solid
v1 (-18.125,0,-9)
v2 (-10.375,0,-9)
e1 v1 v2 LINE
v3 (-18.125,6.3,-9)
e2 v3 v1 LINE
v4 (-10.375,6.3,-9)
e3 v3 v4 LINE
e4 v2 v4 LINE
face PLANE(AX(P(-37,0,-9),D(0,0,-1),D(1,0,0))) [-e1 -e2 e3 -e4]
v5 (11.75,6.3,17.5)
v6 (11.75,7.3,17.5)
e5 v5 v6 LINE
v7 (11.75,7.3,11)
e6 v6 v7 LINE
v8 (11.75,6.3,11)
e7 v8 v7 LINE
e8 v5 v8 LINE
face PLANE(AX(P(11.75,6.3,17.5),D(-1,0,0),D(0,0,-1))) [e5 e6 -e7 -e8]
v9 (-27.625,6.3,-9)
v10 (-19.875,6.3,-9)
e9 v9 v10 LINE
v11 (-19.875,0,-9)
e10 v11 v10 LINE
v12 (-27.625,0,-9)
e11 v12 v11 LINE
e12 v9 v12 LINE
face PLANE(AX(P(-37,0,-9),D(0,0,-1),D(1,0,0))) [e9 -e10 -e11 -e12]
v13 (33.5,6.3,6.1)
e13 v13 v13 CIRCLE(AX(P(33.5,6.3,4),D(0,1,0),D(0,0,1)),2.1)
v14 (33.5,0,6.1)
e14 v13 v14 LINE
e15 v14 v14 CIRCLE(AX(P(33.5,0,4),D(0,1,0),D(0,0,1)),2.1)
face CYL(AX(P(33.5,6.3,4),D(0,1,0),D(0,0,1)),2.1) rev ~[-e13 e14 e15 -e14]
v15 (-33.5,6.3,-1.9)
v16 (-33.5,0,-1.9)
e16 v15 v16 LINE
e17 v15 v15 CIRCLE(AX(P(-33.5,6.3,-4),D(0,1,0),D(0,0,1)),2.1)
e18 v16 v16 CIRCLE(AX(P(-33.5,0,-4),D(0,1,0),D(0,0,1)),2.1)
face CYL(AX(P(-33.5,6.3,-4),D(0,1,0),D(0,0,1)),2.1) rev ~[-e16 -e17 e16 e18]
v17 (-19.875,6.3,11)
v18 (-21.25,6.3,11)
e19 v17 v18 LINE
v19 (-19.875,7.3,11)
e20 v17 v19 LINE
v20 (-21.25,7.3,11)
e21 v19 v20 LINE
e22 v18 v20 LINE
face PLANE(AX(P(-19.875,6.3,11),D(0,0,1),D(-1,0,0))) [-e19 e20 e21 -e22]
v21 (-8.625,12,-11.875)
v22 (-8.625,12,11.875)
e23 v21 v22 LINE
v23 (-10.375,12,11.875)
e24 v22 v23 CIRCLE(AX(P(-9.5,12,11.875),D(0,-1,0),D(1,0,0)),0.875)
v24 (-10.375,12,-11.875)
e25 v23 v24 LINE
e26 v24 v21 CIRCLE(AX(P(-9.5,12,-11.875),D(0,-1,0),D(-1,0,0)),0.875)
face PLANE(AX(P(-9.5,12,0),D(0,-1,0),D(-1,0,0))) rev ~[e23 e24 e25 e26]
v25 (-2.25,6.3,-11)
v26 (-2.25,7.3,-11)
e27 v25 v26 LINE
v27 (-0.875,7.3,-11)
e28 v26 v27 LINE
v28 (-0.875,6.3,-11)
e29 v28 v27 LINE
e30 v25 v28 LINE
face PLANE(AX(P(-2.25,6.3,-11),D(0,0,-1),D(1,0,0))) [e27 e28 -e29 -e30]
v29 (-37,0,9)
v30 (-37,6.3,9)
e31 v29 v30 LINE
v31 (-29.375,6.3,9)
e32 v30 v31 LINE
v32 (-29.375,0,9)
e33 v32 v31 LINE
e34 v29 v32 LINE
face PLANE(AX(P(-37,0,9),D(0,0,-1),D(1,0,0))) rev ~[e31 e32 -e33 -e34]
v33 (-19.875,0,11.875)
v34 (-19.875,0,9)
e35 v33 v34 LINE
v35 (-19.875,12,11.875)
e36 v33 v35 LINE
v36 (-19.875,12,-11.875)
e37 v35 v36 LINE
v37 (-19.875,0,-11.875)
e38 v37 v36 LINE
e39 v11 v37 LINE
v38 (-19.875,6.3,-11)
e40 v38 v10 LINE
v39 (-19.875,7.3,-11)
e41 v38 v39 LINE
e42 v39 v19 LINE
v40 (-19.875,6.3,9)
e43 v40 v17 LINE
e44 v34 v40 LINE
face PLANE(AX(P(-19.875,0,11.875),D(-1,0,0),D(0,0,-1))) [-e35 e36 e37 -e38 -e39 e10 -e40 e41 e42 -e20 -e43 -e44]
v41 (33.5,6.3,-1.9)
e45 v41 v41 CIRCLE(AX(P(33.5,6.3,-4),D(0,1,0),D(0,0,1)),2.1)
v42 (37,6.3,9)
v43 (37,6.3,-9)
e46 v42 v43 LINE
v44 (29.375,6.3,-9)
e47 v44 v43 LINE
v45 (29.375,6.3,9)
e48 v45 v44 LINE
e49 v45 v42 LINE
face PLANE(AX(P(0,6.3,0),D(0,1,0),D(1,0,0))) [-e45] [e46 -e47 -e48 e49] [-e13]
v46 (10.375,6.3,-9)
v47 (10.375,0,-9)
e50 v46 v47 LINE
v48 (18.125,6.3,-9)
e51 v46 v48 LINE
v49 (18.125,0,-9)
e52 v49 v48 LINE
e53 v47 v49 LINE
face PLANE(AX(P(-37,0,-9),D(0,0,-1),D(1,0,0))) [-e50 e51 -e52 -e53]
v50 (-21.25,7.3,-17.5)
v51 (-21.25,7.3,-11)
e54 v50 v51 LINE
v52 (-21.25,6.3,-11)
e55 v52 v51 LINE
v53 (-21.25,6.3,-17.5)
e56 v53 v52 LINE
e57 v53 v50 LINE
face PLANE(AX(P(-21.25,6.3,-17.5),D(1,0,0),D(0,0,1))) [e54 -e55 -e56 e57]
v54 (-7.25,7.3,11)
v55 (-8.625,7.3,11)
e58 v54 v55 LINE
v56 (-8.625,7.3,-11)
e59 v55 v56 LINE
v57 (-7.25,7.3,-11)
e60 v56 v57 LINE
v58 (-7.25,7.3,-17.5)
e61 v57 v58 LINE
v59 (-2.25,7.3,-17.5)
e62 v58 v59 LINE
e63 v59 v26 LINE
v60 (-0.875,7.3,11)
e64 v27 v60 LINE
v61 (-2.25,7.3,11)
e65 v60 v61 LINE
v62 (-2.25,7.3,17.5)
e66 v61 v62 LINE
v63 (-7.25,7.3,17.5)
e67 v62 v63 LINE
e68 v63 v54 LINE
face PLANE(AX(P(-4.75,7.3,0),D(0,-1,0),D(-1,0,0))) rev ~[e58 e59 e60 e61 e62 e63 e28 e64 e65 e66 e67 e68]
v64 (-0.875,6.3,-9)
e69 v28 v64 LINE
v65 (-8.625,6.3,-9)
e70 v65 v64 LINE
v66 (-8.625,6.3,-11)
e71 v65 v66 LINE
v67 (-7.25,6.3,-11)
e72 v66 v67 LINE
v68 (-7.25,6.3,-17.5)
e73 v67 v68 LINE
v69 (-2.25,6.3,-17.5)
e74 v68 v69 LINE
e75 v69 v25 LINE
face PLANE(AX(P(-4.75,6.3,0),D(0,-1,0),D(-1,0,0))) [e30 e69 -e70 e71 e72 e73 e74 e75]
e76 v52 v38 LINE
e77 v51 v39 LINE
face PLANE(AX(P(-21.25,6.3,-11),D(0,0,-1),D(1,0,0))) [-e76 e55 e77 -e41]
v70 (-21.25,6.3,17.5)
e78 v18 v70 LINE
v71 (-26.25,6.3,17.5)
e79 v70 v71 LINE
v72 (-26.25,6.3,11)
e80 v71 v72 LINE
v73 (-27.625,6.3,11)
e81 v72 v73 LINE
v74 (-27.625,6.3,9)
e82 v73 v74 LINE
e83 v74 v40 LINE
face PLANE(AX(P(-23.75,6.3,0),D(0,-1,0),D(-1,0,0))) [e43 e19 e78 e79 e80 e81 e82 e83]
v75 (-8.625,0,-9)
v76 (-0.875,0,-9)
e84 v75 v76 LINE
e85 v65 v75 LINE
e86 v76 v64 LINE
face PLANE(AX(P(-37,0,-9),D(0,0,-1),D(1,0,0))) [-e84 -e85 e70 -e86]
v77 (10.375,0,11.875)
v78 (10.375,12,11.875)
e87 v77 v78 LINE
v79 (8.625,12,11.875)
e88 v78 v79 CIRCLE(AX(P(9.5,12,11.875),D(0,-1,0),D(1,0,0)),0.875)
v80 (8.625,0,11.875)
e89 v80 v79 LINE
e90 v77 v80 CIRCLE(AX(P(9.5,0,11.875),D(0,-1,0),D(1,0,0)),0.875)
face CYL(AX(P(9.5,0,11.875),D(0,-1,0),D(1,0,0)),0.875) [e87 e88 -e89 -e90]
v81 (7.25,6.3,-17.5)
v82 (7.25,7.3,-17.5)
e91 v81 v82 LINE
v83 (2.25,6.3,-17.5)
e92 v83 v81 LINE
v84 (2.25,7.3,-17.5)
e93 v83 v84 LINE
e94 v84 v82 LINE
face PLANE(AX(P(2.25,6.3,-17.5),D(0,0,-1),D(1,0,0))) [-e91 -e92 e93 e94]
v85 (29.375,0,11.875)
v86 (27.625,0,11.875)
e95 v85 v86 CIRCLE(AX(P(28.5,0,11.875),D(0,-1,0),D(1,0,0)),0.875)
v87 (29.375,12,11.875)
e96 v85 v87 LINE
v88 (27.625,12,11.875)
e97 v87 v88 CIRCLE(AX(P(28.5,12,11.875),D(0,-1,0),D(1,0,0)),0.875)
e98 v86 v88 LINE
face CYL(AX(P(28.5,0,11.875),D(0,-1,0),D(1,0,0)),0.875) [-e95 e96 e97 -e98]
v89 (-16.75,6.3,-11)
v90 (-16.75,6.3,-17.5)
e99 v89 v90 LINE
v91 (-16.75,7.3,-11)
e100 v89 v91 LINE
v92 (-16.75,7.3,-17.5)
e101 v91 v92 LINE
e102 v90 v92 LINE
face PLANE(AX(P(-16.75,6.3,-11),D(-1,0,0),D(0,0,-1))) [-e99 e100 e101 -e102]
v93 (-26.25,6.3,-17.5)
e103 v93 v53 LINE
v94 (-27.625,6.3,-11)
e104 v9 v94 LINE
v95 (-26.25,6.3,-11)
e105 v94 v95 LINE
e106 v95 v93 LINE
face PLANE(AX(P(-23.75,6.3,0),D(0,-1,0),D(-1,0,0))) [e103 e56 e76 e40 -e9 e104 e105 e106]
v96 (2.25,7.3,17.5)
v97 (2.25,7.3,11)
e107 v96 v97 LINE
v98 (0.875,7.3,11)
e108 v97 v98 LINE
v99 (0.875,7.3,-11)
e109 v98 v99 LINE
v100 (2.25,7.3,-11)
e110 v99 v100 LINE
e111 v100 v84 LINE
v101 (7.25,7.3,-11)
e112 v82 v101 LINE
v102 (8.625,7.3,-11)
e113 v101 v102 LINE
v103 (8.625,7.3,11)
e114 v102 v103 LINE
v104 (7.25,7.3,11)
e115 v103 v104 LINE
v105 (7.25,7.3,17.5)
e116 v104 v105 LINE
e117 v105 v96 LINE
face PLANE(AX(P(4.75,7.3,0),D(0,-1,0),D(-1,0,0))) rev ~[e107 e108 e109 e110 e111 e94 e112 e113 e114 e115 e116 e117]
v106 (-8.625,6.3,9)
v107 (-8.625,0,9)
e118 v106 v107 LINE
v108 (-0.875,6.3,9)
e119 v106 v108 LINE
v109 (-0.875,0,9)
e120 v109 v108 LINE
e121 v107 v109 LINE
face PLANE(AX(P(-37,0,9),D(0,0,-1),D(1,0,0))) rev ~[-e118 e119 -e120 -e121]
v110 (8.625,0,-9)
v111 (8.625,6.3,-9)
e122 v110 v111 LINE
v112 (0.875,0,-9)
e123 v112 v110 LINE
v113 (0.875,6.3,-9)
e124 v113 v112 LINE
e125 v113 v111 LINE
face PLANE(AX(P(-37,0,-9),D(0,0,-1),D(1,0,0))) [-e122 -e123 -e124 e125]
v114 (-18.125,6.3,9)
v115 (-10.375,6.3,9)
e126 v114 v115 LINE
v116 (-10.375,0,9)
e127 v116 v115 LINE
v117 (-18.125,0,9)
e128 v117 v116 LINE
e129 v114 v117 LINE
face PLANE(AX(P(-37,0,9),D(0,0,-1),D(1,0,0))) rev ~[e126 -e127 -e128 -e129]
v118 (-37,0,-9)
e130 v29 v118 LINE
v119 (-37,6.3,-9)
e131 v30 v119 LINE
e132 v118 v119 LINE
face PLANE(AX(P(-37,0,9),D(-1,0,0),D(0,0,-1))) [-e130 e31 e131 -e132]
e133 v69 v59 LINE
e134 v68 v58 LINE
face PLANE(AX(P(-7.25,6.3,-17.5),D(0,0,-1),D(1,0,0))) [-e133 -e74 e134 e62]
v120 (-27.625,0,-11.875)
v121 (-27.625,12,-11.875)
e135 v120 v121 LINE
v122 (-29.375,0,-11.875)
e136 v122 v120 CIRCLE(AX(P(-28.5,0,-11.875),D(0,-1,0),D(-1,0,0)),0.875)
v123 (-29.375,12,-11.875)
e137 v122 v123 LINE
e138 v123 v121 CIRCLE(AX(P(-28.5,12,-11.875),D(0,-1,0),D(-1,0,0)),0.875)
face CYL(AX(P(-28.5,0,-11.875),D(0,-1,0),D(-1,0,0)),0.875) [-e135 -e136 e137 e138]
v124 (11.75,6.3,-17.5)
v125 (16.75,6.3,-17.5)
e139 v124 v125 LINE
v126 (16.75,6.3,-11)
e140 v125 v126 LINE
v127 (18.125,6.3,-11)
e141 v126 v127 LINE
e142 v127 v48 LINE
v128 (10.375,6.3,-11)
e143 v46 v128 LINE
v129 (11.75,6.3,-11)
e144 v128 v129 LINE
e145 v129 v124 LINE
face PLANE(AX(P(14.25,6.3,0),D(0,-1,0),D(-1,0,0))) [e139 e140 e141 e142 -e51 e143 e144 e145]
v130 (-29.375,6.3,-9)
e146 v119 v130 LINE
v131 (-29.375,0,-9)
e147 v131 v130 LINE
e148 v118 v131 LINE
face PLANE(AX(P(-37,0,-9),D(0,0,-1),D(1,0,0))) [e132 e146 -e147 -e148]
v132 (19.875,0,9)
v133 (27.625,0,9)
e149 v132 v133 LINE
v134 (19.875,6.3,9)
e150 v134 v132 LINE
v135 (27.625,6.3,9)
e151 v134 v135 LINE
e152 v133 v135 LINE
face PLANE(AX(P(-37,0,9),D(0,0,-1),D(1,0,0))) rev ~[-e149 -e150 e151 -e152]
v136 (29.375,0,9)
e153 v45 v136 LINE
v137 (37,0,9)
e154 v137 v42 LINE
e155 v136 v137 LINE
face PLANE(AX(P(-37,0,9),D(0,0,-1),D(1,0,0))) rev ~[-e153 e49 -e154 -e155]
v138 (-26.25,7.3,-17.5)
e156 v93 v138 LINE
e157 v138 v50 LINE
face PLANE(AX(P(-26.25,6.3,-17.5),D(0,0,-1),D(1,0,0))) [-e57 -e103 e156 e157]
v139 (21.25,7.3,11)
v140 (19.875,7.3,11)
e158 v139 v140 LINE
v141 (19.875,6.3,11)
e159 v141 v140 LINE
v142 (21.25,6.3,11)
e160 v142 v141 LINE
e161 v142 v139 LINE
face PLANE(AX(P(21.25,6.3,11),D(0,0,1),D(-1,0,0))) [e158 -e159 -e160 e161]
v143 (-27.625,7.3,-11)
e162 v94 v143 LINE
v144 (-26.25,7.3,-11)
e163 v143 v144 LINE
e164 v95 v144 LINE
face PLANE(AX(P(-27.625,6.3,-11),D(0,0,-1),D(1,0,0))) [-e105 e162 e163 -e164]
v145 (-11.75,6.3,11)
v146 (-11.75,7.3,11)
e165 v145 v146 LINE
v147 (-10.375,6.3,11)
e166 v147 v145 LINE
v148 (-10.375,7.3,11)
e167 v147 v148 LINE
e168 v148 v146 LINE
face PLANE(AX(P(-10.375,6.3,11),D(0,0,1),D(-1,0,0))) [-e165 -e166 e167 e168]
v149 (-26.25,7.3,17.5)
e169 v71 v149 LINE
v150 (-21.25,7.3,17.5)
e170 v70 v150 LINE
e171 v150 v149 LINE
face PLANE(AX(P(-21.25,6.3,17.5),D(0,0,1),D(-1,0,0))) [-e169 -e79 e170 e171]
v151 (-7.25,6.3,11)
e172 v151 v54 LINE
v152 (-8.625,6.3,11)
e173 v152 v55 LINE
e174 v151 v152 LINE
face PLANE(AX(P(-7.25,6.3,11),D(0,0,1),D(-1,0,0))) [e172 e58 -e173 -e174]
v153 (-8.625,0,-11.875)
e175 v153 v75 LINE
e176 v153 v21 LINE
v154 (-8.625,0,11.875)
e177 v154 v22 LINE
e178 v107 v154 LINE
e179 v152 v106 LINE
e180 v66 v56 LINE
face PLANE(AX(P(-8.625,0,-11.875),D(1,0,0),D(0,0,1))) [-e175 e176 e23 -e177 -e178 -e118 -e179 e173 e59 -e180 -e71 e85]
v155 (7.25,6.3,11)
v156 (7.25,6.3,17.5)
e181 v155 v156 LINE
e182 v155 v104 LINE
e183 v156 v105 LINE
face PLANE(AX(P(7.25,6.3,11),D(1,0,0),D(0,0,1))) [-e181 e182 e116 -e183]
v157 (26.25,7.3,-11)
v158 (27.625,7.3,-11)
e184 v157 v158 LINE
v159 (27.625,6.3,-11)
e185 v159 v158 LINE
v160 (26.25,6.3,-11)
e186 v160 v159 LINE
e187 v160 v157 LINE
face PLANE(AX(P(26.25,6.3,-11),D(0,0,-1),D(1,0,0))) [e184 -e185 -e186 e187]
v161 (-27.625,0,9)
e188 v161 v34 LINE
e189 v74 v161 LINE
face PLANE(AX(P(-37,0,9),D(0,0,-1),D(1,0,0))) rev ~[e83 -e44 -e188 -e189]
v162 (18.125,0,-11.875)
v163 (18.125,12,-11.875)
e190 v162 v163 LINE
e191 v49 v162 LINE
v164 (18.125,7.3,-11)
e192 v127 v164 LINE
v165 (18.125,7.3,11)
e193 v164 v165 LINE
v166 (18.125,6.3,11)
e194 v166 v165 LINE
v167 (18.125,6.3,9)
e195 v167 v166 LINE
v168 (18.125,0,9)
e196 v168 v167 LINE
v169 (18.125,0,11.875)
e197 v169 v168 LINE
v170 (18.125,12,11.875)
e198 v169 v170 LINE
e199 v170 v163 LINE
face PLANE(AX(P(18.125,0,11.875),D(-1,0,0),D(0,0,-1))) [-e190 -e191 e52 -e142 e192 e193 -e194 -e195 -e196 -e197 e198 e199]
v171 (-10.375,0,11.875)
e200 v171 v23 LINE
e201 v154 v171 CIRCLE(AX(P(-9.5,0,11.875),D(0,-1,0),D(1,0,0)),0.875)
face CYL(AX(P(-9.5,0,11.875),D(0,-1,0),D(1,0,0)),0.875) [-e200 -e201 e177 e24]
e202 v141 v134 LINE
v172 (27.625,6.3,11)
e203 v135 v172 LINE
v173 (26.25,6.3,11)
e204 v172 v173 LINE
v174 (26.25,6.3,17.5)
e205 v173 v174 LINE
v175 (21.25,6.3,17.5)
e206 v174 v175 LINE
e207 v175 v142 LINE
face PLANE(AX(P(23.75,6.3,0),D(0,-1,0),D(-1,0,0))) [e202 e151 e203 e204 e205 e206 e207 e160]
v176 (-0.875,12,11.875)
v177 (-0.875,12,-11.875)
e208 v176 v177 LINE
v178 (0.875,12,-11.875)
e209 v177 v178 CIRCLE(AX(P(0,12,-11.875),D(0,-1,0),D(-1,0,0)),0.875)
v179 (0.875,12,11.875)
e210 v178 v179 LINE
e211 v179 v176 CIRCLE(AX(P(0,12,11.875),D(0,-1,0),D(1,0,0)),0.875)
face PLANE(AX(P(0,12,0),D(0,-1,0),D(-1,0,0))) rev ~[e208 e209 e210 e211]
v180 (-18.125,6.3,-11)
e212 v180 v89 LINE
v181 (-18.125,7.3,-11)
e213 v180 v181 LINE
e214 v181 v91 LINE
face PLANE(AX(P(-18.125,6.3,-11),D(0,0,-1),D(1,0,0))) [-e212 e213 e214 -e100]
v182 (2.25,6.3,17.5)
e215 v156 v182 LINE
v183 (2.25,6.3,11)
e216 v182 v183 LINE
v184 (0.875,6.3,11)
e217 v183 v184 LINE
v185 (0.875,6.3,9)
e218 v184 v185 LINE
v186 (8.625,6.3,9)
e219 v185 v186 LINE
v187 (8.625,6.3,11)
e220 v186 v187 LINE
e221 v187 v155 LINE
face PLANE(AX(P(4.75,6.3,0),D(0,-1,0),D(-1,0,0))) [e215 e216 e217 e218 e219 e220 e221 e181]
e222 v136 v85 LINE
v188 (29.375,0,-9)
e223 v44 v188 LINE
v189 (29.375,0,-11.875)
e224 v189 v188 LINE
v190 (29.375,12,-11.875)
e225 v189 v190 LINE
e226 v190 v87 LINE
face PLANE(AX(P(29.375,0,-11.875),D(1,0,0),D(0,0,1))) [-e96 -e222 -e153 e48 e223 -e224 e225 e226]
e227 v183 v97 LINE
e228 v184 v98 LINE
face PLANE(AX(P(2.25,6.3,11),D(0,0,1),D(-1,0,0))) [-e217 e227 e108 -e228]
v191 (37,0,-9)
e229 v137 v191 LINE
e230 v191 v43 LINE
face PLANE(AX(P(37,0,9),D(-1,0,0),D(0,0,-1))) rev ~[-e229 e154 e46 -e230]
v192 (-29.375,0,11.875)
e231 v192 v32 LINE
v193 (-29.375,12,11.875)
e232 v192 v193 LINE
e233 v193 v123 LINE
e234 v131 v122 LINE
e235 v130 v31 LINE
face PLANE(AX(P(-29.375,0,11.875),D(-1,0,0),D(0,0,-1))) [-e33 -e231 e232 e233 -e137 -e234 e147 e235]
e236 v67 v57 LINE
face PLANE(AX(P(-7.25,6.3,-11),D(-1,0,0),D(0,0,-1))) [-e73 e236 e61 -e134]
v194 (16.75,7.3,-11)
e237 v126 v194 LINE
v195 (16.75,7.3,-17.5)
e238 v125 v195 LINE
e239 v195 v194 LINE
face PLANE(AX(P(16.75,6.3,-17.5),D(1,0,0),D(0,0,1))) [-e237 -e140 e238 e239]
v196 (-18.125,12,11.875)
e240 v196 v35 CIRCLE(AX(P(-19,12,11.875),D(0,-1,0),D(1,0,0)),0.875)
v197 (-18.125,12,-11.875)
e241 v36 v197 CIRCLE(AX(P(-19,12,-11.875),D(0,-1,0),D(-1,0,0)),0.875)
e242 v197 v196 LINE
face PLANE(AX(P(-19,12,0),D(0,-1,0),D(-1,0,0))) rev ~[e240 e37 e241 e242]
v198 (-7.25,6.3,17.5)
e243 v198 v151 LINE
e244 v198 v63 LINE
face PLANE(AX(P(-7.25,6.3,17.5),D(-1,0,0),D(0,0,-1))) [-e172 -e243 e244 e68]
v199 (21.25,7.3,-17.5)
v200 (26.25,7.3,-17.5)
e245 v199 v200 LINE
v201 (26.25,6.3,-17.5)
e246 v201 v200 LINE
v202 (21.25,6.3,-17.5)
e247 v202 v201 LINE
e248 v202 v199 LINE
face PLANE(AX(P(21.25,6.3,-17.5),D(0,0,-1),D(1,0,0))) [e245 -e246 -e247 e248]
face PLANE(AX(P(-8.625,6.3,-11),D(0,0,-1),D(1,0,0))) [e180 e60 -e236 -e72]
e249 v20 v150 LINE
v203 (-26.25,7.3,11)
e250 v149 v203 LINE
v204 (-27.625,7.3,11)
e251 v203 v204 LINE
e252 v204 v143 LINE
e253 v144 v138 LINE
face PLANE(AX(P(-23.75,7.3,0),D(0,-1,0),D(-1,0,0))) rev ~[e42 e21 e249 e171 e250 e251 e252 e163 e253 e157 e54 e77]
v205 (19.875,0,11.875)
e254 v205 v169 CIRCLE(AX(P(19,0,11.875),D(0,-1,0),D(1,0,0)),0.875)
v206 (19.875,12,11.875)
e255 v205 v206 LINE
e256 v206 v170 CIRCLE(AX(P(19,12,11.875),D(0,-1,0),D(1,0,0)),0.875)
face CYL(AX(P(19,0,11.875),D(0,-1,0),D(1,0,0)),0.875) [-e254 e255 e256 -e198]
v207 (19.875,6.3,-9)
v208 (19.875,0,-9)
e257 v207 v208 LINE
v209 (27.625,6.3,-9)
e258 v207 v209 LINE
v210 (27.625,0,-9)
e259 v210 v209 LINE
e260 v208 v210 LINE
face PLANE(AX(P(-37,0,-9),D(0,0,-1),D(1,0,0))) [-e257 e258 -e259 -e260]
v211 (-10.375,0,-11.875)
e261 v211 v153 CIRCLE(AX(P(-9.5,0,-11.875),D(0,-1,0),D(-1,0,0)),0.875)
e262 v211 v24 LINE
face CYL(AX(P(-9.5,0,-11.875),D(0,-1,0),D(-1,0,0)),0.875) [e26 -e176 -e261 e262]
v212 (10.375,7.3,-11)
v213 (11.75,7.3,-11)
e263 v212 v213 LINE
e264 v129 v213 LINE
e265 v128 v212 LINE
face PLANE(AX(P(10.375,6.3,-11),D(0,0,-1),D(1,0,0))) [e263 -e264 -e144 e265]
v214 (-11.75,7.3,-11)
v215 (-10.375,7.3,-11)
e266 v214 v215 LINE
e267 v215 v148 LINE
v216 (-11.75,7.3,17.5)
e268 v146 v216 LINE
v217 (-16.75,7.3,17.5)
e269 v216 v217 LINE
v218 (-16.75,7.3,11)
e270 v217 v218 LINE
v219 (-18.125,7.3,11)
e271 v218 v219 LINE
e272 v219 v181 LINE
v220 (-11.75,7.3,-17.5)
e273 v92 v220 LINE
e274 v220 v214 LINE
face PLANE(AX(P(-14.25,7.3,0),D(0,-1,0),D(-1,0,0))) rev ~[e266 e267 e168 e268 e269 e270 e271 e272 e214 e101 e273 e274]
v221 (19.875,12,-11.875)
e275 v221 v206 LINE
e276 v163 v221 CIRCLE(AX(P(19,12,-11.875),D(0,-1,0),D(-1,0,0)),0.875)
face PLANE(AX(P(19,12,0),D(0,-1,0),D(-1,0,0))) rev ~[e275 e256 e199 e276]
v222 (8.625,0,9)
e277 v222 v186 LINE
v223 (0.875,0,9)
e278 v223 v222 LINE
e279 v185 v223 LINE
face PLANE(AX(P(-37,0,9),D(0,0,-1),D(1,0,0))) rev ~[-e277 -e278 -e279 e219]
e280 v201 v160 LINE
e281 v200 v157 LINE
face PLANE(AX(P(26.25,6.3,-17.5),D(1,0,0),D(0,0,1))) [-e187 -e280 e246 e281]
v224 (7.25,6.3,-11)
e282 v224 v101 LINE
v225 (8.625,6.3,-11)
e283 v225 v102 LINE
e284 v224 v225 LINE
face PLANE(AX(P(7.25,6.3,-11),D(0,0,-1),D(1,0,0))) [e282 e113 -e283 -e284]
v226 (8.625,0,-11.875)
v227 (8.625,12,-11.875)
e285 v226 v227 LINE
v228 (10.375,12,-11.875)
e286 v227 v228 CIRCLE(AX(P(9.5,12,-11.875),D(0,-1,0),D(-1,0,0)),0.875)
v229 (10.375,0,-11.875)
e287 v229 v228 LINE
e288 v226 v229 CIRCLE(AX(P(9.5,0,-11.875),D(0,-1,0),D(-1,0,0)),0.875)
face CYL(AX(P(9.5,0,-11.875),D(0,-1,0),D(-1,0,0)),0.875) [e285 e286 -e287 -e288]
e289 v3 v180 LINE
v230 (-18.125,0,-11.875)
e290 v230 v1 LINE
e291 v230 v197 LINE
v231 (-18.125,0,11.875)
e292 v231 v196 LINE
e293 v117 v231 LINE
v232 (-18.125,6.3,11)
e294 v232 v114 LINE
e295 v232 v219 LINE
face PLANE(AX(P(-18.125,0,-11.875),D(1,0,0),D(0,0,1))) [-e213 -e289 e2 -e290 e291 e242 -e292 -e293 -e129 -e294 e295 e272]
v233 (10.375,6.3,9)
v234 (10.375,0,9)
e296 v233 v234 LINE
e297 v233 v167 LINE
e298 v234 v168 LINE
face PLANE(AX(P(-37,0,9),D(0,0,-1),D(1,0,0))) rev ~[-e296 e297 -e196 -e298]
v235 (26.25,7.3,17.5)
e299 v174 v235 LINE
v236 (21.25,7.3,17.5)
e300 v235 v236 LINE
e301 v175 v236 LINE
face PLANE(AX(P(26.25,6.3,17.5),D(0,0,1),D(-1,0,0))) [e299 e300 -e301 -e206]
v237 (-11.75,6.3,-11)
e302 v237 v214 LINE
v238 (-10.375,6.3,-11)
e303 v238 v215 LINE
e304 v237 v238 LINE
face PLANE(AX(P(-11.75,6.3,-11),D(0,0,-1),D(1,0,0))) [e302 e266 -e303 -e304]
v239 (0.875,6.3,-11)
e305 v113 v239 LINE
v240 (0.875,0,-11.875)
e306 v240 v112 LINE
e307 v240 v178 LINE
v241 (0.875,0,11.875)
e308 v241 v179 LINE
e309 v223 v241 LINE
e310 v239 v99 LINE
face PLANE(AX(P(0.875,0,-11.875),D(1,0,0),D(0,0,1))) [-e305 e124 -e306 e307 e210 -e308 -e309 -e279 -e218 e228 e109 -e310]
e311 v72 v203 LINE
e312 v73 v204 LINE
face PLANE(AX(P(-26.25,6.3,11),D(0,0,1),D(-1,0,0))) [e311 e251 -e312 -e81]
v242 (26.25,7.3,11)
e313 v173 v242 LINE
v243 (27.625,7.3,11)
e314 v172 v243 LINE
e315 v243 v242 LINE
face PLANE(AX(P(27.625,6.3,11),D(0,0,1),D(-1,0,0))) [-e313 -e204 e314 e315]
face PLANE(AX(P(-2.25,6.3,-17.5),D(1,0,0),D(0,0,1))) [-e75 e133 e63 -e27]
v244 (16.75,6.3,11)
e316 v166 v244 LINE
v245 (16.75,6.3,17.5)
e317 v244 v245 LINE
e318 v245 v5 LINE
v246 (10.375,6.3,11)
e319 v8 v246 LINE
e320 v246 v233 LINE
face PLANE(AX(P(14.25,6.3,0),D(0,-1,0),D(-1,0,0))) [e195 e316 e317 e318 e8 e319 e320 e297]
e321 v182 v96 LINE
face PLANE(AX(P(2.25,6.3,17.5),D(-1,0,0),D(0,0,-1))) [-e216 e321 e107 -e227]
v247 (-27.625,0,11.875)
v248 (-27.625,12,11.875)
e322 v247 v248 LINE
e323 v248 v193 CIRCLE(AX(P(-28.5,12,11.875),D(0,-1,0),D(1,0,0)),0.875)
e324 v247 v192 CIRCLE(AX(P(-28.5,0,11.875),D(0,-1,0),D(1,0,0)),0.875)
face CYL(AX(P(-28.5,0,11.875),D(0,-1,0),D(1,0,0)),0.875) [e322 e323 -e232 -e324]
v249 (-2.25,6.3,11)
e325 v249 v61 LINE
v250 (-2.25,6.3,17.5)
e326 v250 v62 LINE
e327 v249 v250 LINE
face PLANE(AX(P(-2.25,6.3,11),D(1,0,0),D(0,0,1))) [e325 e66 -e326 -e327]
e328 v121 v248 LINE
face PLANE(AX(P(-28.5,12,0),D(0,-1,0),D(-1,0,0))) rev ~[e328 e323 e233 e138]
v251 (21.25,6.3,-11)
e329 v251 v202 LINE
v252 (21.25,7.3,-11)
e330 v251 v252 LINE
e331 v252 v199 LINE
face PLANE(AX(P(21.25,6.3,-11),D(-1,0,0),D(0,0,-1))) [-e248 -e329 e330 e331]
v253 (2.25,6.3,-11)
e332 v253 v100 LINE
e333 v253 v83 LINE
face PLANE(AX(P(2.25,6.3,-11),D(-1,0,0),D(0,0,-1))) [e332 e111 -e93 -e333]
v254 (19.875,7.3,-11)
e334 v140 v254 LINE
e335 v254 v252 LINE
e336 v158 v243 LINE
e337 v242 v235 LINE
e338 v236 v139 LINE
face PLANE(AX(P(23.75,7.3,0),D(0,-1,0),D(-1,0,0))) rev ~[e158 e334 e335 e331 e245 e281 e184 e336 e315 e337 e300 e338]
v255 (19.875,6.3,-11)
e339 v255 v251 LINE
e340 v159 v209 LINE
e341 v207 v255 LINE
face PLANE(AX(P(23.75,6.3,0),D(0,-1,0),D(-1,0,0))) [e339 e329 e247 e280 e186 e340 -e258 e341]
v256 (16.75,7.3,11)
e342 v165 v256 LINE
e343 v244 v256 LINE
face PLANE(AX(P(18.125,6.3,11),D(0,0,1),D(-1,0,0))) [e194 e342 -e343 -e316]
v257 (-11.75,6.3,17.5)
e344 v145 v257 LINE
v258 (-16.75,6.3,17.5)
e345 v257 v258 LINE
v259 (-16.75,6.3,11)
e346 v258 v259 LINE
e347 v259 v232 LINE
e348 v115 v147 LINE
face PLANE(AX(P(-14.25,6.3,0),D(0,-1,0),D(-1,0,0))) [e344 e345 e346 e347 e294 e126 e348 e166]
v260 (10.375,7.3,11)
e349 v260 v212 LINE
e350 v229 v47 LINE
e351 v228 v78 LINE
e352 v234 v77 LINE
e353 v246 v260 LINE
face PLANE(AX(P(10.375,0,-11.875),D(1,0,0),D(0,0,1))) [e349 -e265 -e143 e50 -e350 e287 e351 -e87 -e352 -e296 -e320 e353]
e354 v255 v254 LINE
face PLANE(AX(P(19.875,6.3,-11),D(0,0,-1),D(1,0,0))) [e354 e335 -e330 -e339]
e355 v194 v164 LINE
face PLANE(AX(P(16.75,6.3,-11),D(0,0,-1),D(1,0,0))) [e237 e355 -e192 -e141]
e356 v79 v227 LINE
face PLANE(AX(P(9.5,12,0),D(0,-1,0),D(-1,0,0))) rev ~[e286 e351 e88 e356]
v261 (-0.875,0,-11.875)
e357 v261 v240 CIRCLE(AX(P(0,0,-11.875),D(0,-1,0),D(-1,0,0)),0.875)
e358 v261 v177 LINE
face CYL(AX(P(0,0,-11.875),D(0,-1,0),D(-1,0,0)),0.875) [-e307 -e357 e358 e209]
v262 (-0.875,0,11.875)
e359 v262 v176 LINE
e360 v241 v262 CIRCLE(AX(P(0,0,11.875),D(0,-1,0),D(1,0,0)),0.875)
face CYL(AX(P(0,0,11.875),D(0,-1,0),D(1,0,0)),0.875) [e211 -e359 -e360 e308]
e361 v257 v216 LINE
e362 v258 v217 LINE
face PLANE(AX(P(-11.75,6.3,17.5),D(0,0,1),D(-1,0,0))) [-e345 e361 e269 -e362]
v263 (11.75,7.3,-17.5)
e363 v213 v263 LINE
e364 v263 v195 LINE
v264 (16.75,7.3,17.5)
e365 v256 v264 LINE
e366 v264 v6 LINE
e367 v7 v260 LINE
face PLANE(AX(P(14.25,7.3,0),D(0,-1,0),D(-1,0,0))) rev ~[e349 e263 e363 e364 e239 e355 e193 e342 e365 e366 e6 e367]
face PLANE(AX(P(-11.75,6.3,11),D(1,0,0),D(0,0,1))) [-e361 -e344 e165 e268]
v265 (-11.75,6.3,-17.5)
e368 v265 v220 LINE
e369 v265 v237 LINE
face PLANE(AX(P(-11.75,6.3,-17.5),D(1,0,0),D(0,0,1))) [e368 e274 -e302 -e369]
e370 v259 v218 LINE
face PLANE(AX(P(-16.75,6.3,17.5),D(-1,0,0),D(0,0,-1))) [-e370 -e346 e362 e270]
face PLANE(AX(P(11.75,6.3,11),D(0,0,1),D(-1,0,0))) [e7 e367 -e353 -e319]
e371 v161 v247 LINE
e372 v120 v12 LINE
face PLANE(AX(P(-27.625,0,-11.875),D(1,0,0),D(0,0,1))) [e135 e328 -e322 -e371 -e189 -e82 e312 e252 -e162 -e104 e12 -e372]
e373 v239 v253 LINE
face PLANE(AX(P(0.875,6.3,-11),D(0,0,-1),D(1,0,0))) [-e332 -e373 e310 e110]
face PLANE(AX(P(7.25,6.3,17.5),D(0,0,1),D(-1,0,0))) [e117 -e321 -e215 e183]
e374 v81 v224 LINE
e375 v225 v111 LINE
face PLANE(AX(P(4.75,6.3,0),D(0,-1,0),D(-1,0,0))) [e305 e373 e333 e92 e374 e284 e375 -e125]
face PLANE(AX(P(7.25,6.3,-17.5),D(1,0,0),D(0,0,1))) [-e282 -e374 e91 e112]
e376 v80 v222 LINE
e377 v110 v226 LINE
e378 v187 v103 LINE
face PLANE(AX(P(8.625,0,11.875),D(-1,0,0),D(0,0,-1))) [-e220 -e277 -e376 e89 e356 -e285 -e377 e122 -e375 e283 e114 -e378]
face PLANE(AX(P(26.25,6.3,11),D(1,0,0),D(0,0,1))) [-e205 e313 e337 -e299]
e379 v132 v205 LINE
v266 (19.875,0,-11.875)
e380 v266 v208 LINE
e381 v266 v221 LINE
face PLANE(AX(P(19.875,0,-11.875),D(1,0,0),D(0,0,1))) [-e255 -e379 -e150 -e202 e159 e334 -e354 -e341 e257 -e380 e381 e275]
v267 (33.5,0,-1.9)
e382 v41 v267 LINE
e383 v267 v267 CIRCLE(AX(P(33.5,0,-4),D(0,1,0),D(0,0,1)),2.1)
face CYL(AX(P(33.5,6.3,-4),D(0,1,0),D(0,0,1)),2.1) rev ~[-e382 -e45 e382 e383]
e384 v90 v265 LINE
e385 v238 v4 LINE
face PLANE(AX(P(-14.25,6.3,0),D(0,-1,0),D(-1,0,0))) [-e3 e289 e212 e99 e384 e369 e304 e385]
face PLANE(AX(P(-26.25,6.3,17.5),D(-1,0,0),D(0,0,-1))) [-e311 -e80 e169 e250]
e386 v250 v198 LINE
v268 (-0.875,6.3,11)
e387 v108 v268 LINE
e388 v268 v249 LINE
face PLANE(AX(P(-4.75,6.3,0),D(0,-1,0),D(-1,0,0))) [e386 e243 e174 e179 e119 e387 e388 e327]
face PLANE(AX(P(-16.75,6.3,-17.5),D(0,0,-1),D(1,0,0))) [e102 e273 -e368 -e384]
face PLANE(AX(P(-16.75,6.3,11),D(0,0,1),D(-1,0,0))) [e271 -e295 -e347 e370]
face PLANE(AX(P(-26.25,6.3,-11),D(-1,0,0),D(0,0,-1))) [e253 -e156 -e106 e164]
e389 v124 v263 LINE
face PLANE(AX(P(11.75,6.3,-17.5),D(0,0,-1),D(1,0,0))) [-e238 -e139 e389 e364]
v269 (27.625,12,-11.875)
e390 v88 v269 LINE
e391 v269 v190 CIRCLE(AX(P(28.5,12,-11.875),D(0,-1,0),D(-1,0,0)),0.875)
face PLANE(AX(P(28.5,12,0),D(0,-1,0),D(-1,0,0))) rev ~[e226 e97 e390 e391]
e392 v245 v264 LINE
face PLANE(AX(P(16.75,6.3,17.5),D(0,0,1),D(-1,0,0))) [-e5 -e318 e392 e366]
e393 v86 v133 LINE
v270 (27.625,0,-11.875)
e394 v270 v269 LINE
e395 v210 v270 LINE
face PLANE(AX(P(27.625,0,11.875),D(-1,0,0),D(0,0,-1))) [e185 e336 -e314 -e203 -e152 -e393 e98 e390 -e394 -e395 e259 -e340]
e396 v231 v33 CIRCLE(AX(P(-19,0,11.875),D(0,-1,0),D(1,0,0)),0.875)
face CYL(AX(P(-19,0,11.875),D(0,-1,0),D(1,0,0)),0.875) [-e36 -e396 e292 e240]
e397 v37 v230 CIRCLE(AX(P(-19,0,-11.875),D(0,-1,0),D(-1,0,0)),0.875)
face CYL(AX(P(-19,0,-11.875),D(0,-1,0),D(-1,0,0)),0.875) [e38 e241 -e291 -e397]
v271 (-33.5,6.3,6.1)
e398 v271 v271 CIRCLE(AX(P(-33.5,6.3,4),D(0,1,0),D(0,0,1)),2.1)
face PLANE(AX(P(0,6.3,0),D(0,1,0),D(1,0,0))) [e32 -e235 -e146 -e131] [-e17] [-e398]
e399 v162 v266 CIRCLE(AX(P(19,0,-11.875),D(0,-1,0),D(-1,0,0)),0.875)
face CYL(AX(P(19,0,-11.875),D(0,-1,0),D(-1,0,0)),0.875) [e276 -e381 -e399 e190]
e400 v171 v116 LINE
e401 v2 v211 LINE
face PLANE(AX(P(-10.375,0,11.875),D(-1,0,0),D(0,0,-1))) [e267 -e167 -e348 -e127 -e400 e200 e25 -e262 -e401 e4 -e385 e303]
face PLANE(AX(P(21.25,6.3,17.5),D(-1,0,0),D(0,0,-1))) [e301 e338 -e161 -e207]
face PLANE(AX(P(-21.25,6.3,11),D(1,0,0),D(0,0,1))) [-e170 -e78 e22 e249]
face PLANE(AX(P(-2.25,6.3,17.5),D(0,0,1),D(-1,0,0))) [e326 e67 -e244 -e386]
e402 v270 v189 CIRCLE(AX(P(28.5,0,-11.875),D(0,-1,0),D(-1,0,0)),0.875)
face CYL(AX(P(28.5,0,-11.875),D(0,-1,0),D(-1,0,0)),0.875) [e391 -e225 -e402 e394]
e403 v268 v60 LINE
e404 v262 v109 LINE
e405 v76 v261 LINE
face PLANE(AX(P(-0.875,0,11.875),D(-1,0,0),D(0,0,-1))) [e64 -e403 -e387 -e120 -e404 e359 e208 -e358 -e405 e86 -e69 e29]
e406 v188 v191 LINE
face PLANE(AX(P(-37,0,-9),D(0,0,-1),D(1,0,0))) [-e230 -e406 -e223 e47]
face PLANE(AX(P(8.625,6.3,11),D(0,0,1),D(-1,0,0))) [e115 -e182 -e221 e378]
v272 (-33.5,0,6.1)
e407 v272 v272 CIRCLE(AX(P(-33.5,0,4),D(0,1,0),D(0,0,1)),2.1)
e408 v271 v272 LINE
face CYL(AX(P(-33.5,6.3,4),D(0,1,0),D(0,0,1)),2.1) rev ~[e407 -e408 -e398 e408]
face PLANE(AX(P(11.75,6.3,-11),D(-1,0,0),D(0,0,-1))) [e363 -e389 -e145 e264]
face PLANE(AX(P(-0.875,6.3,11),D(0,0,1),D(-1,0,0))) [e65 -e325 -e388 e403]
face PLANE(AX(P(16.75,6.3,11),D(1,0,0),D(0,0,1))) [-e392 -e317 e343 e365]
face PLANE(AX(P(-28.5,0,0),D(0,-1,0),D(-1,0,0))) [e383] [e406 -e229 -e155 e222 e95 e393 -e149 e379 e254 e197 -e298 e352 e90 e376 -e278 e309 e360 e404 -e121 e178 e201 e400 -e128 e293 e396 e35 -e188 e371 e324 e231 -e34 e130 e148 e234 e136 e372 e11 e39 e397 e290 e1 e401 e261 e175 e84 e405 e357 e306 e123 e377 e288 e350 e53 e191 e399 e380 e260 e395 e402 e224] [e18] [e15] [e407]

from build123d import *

# Parameters (mm, degrees)
SKETCH1_W           = 74
SKETCH1_H           = 18
BOSS_EXTRUDE1_DEPTH = 6.3
BOSS_EXTRUDE2_DEPTH = 12
BOSS_EXTRUDE3_DEPTH = 1
SKETCH6_R           = 2.1
CUT_EXTRUDE1_DEPTH  = 42.411834057


with BuildPart() as part:
    # Sketch1 → Boss-Extrude1 (new body)
    with BuildSketch(Plane(origin=(0, 0, 0), x_dir=(1, 0, 0), z_dir=(0, 1, 0))):
        Rectangle(SKETCH1_W, SKETCH1_H)
    extrude(amount=BOSS_EXTRUDE1_DEPTH)

    # Sketch4 → Boss-Extrude2 (add)
    with BuildSketch(Plane(origin=(0, 0, 0), x_dir=(1, 0, 0), z_dir=(0, 1, 0))):
        with BuildLine():
            Line((-27.625, 11.875), (-27.625, -11.875))
            ThreePointArc((-27.625, -11.875), (-28.5, -12.75), (-29.375, -11.875))
            Line((-29.375, -11.875), (-29.375, 11.875))
            ThreePointArc((-29.375, 11.875), (-28.5, 12.75), (-27.625, 11.875))
        make_face()
        with BuildLine():
            Line((-18.125, 11.875), (-18.125, -11.875))
            ThreePointArc((-18.125, -11.875), (-19, -12.75), (-19.875, -11.875))
            Line((-19.875, -11.875), (-19.875, 11.875))
            ThreePointArc((-19.875, 11.875), (-19, 12.75), (-18.125, 11.875))
        make_face()
        with BuildLine():
            Line((-8.625, 11.875), (-8.625, -11.875))
            ThreePointArc((-8.625, -11.875), (-9.5, -12.75), (-10.375, -11.875))
            Line((-10.375, -11.875), (-10.375, 11.875))
            ThreePointArc((-10.375, 11.875), (-9.5, 12.75), (-8.625, 11.875))
        make_face()
        with BuildLine():
            Line((0.875, 11.875), (0.875, -11.875))
            ThreePointArc((0.875, -11.875), (0, -12.75), (-0.875, -11.875))
            Line((-0.875, -11.875), (-0.875, 11.875))
            ThreePointArc((-0.875, 11.875), (0, 12.75), (0.875, 11.875))
        make_face()
        with BuildLine():
            Line((10.375, 11.875), (10.375, -11.875))
            ThreePointArc((10.375, -11.875), (9.5, -12.75), (8.625, -11.875))
            Line((8.625, -11.875), (8.625, 11.875))
            ThreePointArc((8.625, 11.875), (9.5, 12.75), (10.375, 11.875))
        make_face()
        with BuildLine():
            Line((19.875, 11.875), (19.875, -11.875))
            ThreePointArc((19.875, -11.875), (19, -12.75), (18.125, -11.875))
            Line((18.125, -11.875), (18.125, 11.875))
            ThreePointArc((18.125, 11.875), (19, 12.75), (19.875, 11.875))
        make_face()
        with BuildLine():
            Line((29.375, 11.875), (29.375, -11.875))
            ThreePointArc((29.375, -11.875), (28.5, -12.75), (27.625, -11.875))
            Line((27.625, -11.875), (27.625, 11.875))
            ThreePointArc((27.625, 11.875), (28.5, 12.75), (29.375, 11.875))
        make_face()
    extrude(amount=BOSS_EXTRUDE2_DEPTH)

    # Sketch5 → Boss-Extrude3 (add)
    with BuildSketch(Plane(origin=(0, 6.3, 0), x_dir=(1, 0, 0), z_dir=(0, 1, 0))):
        Polygon((-27.625, 11), (-26.25, 11), (-26.25, 17.5), (-21.25, 17.5), (-21.25, 11), (-19.875, 11), (-19.875, -11), (-21.25, -11), (-21.25, -17.5), (-26.25, -17.5), (-26.25, -11), (-27.625, -11), align=None)
        Polygon((-18.125, 11), (-16.75, 11), (-16.75, 17.5), (-11.75, 17.5), (-11.75, 11), (-10.375, 11), (-10.375, -11), (-11.75, -11), (-11.75, -17.5), (-16.75, -17.5), (-16.75, -11), (-18.125, -11), align=None)
        Polygon((-8.625, 11), (-7.25, 11), (-7.25, 17.5), (-2.25, 17.5), (-2.25, 11), (-0.875, 11), (-0.875, -11), (-2.25, -11), (-2.25, -17.5), (-7.25, -17.5), (-7.25, -11), (-8.625, -11), align=None)
        Polygon((0.875, 11), (2.25, 11), (2.25, 17.5), (7.25, 17.5), (7.25, 11), (8.625, 11), (8.625, -11), (7.25, -11), (7.25, -17.5), (2.25, -17.5), (2.25, -11), (0.875, -11), align=None)
        Polygon((10.375, 11), (11.75, 11), (11.75, 17.5), (16.75, 17.5), (16.75, 11), (18.125, 11), (18.125, -11), (16.75, -11), (16.75, -17.5), (11.75, -17.5), (11.75, -11), (10.375, -11), align=None)
        Polygon((19.875, 11), (21.25, 11), (21.25, 17.5), (26.25, 17.5), (26.25, 11), (27.625, 11), (27.625, -11), (26.25, -11), (26.25, -17.5), (21.25, -17.5), (21.25, -11), (19.875, -11), align=None)
    extrude(amount=BOSS_EXTRUDE3_DEPTH)

    # Sketch6 → Cut-Extrude1 (cut, through all)
    with BuildSketch(Plane(origin=(0, 6.3, 0), x_dir=(1, 0, 0), z_dir=(0, 1, 0))):
        with Locations(Location((-33.5, 4, 0), (0, 0, 270))):
            Circle(SKETCH6_R)
        with Locations(Location((-33.5, -4, 0), (0, 0, 270))):
            Circle(SKETCH6_R)
        with Locations(Location((33.5, 4, 0), (0, 0, 270))):
            Circle(SKETCH6_R)
        with Locations(Location((33.5, -4, 0), (0, 0, 270))):
            Circle(SKETCH6_R)
    extrude(amount=-CUT_EXTRUDE1_DEPTH, mode=Mode.SUBTRACT)


solid = part.part
